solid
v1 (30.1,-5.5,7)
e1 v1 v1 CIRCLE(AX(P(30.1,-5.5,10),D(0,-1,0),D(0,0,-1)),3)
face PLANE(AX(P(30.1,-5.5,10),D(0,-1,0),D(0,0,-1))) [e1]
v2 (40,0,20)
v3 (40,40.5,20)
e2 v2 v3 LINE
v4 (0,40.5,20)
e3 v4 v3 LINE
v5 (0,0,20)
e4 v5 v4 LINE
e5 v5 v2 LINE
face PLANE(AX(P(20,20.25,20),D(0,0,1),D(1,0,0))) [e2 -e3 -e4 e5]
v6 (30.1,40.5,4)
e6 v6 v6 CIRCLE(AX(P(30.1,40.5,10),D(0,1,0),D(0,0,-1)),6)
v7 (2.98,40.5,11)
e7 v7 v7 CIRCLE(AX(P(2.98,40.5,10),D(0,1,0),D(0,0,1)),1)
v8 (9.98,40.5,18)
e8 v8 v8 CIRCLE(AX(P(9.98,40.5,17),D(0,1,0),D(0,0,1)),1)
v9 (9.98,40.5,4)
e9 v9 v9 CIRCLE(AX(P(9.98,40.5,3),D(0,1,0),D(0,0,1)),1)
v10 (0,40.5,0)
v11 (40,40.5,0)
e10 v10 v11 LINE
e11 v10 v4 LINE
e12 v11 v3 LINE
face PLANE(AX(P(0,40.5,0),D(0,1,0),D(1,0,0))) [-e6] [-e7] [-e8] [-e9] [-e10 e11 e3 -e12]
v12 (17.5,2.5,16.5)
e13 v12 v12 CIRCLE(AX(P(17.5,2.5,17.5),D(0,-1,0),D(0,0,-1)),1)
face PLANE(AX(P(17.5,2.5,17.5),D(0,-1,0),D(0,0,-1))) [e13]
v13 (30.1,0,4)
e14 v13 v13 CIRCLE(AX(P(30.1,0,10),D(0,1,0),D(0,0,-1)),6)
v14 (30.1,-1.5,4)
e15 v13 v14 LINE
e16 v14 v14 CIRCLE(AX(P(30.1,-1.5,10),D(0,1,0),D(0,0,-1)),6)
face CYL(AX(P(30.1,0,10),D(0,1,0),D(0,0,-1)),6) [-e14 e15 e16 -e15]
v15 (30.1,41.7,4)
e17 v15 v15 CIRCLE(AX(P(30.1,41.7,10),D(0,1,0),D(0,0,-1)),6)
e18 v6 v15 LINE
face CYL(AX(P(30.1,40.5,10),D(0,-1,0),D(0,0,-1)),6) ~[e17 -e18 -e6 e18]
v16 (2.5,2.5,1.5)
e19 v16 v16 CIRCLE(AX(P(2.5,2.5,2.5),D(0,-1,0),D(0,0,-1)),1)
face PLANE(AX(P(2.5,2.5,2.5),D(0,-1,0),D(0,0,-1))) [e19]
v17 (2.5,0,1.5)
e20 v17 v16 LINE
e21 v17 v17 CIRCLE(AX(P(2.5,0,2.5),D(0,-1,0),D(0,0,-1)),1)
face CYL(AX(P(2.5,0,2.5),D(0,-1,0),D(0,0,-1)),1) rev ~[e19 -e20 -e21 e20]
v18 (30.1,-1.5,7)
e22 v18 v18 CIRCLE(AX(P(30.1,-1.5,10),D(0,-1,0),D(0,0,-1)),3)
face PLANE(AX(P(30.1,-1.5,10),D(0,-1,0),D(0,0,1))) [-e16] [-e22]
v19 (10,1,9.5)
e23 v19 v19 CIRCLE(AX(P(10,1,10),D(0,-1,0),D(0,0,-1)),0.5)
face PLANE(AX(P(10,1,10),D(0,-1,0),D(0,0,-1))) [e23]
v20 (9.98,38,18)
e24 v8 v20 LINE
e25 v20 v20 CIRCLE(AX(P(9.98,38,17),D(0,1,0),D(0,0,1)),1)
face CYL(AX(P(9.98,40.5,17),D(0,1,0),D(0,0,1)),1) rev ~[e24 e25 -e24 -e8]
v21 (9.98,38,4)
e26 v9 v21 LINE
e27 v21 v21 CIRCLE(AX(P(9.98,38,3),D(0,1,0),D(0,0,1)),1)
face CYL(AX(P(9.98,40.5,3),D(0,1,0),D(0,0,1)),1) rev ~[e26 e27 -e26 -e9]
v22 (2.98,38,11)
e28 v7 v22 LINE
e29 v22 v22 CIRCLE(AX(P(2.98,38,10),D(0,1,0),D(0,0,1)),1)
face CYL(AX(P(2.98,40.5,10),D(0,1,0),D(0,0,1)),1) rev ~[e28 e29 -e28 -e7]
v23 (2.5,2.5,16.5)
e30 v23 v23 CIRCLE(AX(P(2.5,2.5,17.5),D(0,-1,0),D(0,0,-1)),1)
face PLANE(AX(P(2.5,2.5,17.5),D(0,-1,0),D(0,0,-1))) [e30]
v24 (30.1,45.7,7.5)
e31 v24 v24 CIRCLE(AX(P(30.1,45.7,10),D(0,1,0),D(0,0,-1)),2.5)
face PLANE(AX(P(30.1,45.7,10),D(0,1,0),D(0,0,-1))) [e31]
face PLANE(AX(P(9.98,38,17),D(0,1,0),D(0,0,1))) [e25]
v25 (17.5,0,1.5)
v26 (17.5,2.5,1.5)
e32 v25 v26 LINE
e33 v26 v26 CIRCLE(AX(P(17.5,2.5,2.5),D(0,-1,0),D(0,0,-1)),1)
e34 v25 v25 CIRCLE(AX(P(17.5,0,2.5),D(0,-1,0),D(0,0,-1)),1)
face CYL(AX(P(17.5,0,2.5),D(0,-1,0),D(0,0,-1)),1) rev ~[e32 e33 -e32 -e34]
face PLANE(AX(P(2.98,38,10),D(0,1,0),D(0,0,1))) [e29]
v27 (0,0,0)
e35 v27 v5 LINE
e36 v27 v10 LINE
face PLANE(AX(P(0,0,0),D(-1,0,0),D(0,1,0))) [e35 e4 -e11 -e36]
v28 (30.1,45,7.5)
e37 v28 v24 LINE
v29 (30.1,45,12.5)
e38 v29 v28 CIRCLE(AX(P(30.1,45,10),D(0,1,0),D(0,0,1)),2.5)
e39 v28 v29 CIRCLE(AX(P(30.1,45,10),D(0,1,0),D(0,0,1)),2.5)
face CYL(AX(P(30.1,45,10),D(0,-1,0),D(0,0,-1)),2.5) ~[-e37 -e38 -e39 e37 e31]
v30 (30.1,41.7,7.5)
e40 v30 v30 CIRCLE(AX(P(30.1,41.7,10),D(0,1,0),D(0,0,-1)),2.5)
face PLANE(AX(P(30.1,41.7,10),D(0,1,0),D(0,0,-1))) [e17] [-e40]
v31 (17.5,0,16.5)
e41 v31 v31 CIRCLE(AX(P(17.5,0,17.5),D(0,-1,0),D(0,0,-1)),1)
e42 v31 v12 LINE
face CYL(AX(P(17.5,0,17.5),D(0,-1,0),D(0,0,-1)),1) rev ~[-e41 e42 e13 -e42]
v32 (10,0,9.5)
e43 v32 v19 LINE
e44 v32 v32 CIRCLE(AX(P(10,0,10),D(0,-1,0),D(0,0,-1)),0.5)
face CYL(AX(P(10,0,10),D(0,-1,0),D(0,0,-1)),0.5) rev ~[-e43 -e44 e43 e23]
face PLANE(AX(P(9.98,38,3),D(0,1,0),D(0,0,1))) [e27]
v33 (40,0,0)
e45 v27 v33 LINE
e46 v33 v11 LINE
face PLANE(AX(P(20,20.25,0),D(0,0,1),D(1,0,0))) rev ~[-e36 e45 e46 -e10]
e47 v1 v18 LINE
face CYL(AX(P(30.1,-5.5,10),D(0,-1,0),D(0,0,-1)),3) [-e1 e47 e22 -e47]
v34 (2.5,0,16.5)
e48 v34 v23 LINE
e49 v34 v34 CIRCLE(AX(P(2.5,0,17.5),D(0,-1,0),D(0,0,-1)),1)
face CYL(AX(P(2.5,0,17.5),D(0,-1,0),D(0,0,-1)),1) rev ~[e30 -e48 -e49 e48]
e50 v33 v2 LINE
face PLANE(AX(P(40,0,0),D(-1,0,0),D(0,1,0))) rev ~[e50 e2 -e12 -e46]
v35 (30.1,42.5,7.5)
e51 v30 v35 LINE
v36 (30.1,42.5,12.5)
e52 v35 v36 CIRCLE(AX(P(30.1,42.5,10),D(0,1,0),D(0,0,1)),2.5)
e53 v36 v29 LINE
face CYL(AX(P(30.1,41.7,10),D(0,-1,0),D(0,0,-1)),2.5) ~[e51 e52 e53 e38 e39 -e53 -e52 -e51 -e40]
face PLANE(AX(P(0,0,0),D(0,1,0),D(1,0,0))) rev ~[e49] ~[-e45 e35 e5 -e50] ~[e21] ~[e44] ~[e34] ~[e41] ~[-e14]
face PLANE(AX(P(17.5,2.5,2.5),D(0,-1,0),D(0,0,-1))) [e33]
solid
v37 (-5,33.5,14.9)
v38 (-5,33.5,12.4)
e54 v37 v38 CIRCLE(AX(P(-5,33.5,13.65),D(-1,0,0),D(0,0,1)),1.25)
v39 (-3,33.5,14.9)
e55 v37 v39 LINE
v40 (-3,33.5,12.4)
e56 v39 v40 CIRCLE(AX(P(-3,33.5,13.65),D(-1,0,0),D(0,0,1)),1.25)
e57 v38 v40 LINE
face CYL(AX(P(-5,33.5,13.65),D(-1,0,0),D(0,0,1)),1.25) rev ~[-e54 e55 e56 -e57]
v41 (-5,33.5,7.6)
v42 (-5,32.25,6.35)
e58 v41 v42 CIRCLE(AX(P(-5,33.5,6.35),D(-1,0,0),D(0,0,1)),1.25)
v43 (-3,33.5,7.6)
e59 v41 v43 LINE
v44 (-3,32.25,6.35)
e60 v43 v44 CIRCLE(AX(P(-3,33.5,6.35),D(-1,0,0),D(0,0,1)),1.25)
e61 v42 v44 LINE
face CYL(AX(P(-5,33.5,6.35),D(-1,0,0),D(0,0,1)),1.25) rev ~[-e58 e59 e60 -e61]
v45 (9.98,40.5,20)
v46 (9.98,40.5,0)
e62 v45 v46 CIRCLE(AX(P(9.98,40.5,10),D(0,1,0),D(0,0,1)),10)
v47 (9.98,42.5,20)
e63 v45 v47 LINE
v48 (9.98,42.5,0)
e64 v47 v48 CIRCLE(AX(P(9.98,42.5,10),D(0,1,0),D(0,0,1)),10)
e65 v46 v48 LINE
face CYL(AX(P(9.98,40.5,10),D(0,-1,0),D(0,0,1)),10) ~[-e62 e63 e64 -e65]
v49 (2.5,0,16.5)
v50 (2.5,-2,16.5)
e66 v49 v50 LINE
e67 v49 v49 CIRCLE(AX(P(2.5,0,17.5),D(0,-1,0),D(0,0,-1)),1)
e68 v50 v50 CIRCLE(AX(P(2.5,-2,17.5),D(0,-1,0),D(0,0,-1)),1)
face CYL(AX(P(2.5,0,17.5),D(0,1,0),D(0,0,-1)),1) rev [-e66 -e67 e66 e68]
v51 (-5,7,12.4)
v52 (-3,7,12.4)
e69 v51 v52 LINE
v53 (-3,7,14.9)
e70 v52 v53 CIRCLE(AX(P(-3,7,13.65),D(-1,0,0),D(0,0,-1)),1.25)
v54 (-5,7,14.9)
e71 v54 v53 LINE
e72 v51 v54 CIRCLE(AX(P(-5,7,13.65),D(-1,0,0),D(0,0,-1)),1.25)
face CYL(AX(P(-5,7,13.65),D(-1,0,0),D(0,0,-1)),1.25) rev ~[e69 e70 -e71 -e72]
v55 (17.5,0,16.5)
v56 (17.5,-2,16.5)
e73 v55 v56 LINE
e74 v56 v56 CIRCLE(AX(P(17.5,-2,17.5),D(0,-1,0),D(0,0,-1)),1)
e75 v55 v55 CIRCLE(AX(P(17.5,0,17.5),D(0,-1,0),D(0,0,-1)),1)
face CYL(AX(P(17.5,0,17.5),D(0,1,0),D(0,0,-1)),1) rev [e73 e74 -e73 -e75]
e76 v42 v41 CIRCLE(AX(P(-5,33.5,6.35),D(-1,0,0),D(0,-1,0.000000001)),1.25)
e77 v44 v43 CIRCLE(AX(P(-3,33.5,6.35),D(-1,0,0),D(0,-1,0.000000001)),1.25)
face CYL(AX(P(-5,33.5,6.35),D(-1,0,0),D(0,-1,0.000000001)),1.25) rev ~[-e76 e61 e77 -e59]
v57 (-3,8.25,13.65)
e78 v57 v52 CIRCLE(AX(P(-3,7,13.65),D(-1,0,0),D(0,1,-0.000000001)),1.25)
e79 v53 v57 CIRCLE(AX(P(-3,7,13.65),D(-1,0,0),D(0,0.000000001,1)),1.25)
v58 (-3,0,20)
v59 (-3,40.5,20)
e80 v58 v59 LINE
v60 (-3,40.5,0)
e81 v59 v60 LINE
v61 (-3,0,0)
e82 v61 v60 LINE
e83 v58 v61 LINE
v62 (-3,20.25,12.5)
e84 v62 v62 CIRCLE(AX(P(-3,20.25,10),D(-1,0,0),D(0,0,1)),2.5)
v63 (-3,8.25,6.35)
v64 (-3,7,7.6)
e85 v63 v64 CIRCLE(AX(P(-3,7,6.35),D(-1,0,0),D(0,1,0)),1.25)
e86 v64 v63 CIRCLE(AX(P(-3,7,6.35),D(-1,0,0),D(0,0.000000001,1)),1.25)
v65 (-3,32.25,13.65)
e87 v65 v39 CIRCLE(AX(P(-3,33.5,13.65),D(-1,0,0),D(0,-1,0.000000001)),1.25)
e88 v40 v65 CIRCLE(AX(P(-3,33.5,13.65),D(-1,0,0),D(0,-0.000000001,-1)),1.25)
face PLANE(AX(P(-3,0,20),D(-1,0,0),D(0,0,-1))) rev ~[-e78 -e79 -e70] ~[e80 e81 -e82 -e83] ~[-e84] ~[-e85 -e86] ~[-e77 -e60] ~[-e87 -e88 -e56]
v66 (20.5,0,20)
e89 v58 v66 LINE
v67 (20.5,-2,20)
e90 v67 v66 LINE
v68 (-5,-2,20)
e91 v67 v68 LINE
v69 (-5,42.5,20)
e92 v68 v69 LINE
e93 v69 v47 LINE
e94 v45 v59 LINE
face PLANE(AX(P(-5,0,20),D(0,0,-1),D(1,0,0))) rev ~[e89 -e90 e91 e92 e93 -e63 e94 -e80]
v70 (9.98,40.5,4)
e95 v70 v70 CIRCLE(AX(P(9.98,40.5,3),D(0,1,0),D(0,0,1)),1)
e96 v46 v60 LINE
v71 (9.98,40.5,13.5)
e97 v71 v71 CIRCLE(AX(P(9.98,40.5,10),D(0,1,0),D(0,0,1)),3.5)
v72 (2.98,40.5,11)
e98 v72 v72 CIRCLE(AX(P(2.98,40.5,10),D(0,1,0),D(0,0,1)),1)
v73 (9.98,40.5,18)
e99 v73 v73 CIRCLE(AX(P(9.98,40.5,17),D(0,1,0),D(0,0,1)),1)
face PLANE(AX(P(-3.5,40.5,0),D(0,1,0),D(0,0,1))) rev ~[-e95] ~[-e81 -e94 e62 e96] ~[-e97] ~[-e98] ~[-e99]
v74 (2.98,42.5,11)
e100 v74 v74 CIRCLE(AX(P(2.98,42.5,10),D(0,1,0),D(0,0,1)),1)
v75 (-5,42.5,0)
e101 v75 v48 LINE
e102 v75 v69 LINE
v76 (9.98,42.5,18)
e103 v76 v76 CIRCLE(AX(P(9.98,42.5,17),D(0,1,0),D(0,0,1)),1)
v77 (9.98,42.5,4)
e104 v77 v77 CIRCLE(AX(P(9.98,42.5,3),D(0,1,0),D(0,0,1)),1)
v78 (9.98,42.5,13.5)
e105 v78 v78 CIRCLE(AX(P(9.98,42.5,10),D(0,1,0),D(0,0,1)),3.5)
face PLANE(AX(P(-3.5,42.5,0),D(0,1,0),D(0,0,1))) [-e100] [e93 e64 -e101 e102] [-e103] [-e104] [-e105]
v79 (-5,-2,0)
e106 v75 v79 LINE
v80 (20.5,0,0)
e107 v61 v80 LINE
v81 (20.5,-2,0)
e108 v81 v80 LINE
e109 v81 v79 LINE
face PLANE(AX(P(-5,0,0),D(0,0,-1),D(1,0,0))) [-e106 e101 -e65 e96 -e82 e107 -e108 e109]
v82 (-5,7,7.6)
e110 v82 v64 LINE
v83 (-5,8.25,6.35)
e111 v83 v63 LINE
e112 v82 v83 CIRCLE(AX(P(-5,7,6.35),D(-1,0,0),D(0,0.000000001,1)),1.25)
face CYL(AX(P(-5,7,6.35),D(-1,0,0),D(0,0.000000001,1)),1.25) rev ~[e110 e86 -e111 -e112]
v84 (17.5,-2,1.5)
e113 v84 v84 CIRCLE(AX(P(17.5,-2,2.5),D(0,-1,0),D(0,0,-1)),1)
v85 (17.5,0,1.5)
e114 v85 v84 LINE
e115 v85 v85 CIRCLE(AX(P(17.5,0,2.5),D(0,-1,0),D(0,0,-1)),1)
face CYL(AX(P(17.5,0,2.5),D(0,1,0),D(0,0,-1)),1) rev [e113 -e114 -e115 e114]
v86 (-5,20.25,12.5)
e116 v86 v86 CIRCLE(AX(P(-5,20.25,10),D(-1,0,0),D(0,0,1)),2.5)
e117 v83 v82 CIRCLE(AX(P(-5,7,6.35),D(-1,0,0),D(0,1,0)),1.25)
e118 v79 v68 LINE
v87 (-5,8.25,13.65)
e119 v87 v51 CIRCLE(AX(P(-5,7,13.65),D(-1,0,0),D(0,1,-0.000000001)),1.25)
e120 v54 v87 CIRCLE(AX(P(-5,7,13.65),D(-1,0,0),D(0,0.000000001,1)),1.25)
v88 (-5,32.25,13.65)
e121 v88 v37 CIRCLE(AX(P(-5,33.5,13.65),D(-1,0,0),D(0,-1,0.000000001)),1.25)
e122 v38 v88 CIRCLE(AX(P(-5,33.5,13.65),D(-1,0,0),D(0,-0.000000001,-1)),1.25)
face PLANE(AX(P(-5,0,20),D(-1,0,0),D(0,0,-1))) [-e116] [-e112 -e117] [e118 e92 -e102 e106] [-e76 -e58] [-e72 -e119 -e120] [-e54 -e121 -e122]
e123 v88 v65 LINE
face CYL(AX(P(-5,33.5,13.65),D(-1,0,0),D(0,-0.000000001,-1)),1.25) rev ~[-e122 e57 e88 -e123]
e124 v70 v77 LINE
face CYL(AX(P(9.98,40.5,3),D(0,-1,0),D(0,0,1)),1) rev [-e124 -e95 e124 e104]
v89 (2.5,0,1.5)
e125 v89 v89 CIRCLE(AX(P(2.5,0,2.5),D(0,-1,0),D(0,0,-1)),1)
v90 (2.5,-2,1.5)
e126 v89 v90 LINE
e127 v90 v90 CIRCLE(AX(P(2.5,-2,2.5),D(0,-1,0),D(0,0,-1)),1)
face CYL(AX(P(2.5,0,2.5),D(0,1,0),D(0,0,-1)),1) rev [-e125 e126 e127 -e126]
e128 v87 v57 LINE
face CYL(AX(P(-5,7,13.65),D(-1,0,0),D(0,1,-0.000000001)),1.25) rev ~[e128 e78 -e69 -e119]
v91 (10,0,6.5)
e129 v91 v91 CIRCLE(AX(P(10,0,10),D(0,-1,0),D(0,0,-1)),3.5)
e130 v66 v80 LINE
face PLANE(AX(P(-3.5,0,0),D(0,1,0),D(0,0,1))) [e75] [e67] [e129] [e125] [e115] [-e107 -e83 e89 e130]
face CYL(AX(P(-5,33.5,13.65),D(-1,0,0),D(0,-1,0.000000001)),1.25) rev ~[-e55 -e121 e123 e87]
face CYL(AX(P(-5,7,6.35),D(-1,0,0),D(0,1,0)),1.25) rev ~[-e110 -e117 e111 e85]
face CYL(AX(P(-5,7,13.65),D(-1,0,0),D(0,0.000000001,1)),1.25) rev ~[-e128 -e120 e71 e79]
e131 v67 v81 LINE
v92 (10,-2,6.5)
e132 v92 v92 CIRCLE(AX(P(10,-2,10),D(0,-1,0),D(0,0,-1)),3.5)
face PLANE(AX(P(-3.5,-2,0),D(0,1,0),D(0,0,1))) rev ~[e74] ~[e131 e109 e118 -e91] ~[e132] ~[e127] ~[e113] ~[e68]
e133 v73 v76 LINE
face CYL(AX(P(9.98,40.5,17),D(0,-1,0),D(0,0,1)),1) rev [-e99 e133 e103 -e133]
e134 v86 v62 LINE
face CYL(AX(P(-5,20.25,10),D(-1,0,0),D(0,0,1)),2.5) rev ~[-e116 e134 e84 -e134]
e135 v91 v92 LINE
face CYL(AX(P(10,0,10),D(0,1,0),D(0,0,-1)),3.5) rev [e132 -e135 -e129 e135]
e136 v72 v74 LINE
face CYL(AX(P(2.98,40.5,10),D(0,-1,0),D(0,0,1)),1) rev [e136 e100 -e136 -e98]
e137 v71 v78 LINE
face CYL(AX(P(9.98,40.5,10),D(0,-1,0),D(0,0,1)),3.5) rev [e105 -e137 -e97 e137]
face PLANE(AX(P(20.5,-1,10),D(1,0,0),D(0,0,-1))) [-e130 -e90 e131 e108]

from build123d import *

# Parameters (mm, degrees)
SKETCH_1_W          = 40
SKETCH_1_H          = 40.5
EXTRUDE_1_DEPTH     = 20
SKETCH_2_R          = 6
EXTRUDE_2_DEPTH     = 2
SKETCH_4_R          = 2.5
EXTRUDE_3_DEPTH     = 2.5
EXTRUDE_START       = 2.5
SKETCH_5_R          = 2.5
EXTRUDE_4_DEPTH     = 2.5
SKETCH_6_R          = 1
CUT_EXTRUDE_1_DEPTH = 2.5
SKETCH_7_R          = 1
CUT_EXTRUDE_2_DEPTH = 2.5
SKETCH_8_R          = 6
SKETCH_8_R_2        = 2.5
CUT_EXTRUDE_3_DEPTH = 0.5
EXTRUDE_START_2     = 1
SKETCH_9_R          = 2.5
EXTRUDE_5_DEPTH     = 1
CUT_EXTRUDE_START   = -0.8
SKETCH_10_R         = 6
SKETCH_10_R_2       = 2.5
CUT_EXTRUDE_4_DEPTH = 0.8
SKETCH_11_R         = 2.5
EXTRUDE_6_DEPTH     = 0.7
SKETCH_13_R         = 0.5
CUT_EXTRUDE_5_DEPTH = 1
SKETCH_14_R         = 3
EXTRUDE_7_DEPTH     = 4
SKETCH_15_W         = 27
SKETCH_15_H         = 20
SKETCH_15_R         = 1
SKETCH_15_R_2       = 3.5
EXTRUDE_8_DEPTH     = 2
SKETCH_16_R         = 3.5
SKETCH_16_R_2       = 1
EXTRUDE_9_DEPTH     = 2
SKETCH_18_W         = 20
SKETCH_18_H         = 2
CUT_EXTRUDE_6_DEPTH = 3
SKETCH_19_W         = 20
SKETCH_19_H         = 2
EXTRUDE_10_DEPTH    = 1.5
SKETCH_20_W         = 20
SKETCH_20_H         = 2
EXTRUDE_11_DEPTH    = 1.5
SKETCH_21_W         = 2
SKETCH_21_H         = 20
EXTRUDE_12_DEPTH    = 40.5
CUT_EXTRUDE_7_DEPTH = 2
SKETCH_23_R         = 2.5
CUT_EXTRUDE_8_DEPTH = 2


with BuildPart() as part:
    # 草图1 → 凸台-拉伸1 (new body)
    with BuildSketch(Plane.XY):
        with Locations((20, 20.25)):
            Rectangle(SKETCH_1_W, SKETCH_1_H)
    extrude(amount=EXTRUDE_1_DEPTH)

    # 草图2 → 凸台-拉伸2 (add)
    with BuildSketch(Plane(origin=(0, 40.5, 0), x_dir=(1, 0, 0), z_dir=(0, 1, 0))):
        with Locations(Location((30.1, -10, 0), (0, 0, 90))):
            Circle(SKETCH_2_R)
    extrude_2 = extrude(amount=EXTRUDE_2_DEPTH)

    # 镜向1: 凸台-拉伸2 across plane
    add(extrude_2.mirror(Plane.ZX.offset(20.25)))

    # 草图4 → 凸台-拉伸3 (add)
    with BuildSketch(Plane(origin=(0, 42.5, 0), x_dir=(1, 0, 0), z_dir=(0, 1, 0))):
        with Locations(Location((30.1, -10, 0), (0, 0, 270))):
            Circle(SKETCH_4_R)
    extrude(amount=EXTRUDE_3_DEPTH)

    # 草图5 → 凸台-拉伸4 (add)
    with BuildSketch(Plane.XZ.offset(2).offset(EXTRUDE_START)):
        with Locations(Location((30.1, 10, 0), (0, 0, 90))):
            Circle(SKETCH_5_R)
    extrude(amount=-EXTRUDE_4_DEPTH)

    # 草图6 → 切除-拉伸1 (cut)
    with BuildSketch(Plane(origin=(0, 40.5, 0), x_dir=(1, 0, 0), z_dir=(0, 1, 0))):
        with Locations(Location((9.98, -3, 0), (0, 0, 270))):
            Circle(SKETCH_6_R)
        with Locations(Location((9.98, -17, 0), (0, 0, 270))):
            Circle(SKETCH_6_R)
        with Locations(Location((2.98, -10, 0), (0, 0, 270))):
            Circle(SKETCH_6_R)
    extrude(amount=-CUT_EXTRUDE_1_DEPTH, mode=Mode.SUBTRACT)

    # 草图7 → 切除-拉伸2 (cut)
    with BuildSketch(Plane.XZ):
        with Locations(Location((2.5, 17.5, 0), (0, 0, 270))):
            Circle(SKETCH_7_R)
        with Locations(Location((17.5, 17.5, 0), (0, 0, 270))):
            Circle(SKETCH_7_R)
        with Locations(Location((17.5, 2.5, 0), (0, 0, 270))):
            Circle(SKETCH_7_R)
        with Locations(Location((2.5, 2.5, 0), (0, 0, 270))):
            Circle(SKETCH_7_R)
    extrude(amount=-CUT_EXTRUDE_2_DEPTH, mode=Mode.SUBTRACT)

    # 草图8 → 切除-拉伸3 (cut)
    with BuildSketch(Plane.XZ.offset(2)):
        with Locations(Location((30.1, 10, 0), (0, 0, 90))):
            Circle(SKETCH_8_R)
        with Locations(Location((30.1, 10, 0), (0, 0, 90))):
            Circle(SKETCH_8_R_2, mode=Mode.SUBTRACT)
    extrude(amount=-CUT_EXTRUDE_3_DEPTH, mode=Mode.SUBTRACT)

    # 草图9 → 凸台-拉伸5 (add)
    with BuildSketch(Plane.XZ.offset(4.5).offset(EXTRUDE_START_2)):
        with Locations(Location((30.1, 10, 0), (0, 0, 90))):
            Circle(SKETCH_9_R)
    extrude(amount=-EXTRUDE_5_DEPTH)

    # 草图10 → 切除-拉伸4 (cut)
    with BuildSketch(Plane(origin=(0, 42.5, 0), x_dir=(1, 0, 0), z_dir=(0, 1, 0)).offset(CUT_EXTRUDE_START)):
        with Locations(Location((30.1, -10, 0), (0, 0, 90))):
            Circle(SKETCH_10_R)
        with Locations(Location((30.1, -10, 0), (0, 0, 90))):
            Circle(SKETCH_10_R_2, mode=Mode.SUBTRACT)
    extrude(amount=CUT_EXTRUDE_4_DEPTH, mode=Mode.SUBTRACT)

    # 草图11 → 凸台-拉伸6 (add)
    with BuildSketch(Plane(origin=(0, 45, 0), x_dir=(1, 0, 0), z_dir=(0, 1, 0))):
        with Locations(Location((30.1, -10, 0), (0, 0, 90))):
            Circle(SKETCH_11_R)
    extrude(amount=EXTRUDE_6_DEPTH)

    # 草图13 → 切除-拉伸5 (cut)
    with BuildSketch(Plane.XZ):
        with Locations(Location((10, 10, 0), (0, 0, 270))):
            Circle(SKETCH_13_R)
    extrude(amount=-CUT_EXTRUDE_5_DEPTH, mode=Mode.SUBTRACT)

    # 草图14 → 凸台-拉伸7 (add)
    with BuildSketch(Plane.XZ.offset(5.5)):
        with Locations(Location((30.1, 10, 0), (0, 0, 270))):
            Circle(SKETCH_14_R)
    extrude(amount=-EXTRUDE_7_DEPTH)


with BuildPart() as body_2:
    # 草图15 → 凸台-拉伸8 (new body)
    with BuildSketch(Plane.XZ):
        with Locations((10, 10)):
            Rectangle(SKETCH_15_W, SKETCH_15_H)
        with Locations(Location((2.5, 2.5, 0), (0, 0, 270))):
            Circle(SKETCH_15_R, mode=Mode.SUBTRACT)
        with Locations(Location((17.5, 2.5, 0), (0, 0, 270))):
            Circle(SKETCH_15_R, mode=Mode.SUBTRACT)
        with Locations(Location((17.5, 17.5, 0), (0, 0, 270))):
            Circle(SKETCH_15_R, mode=Mode.SUBTRACT)
        with Locations(Location((2.5, 17.5, 0), (0, 0, 270))):
            Circle(SKETCH_15_R, mode=Mode.SUBTRACT)
        with Locations(Location((10, 10, 0), (0, 0, 270))):
            Circle(SKETCH_15_R_2, mode=Mode.SUBTRACT)
    extrude(amount=EXTRUDE_8_DEPTH)

    # 草图18 → 切除-拉伸6 (cut)
    with BuildSketch(Plane(origin=(23.5, 0, 0), x_dir=(0, 0, -1), z_dir=(1, 0, 0))):
        with Locations((-10, -1)):
            Rectangle(SKETCH_18_W, SKETCH_18_H)
    extrude(amount=-CUT_EXTRUDE_6_DEPTH, mode=Mode.SUBTRACT)

    # 草图19 → 凸台-拉伸10 (add)
    with BuildSketch(Plane.ZY.offset(3.5)):
        with Locations((10, -1)):
            Rectangle(SKETCH_19_W, SKETCH_19_H)
    extrude(amount=EXTRUDE_10_DEPTH)



with BuildPart() as body_3:
    # 草图16 → 凸台-拉伸9 (new body)
    with BuildSketch(Plane(origin=(0, 40.5, 0), x_dir=(1, 0, 0), z_dir=(0, 1, 0))):
        with BuildLine():
            Line((-3.5, 0), (-3.5, -20))
            Line((-3.5, -20), (9.98, -20))
            ThreePointArc((9.98, -20), (19.98, -10), (9.98, 0))
            Line((9.98, 0), (-3.5, 0))
        make_face()
        with Locations(Location((9.98, -10, 0), (0, 0, 270))):
            Circle(SKETCH_16_R, mode=Mode.SUBTRACT)
        with Locations(Location((9.98, -17, 0), (0, 0, 270))):
            Circle(SKETCH_16_R_2, mode=Mode.SUBTRACT)
        with Locations(Location((9.98, -3, 0), (0, 0, 270))):
            Circle(SKETCH_16_R_2, mode=Mode.SUBTRACT)
        with Locations(Location((2.98, -10, 0), (0, 0, 270))):
            Circle(SKETCH_16_R_2, mode=Mode.SUBTRACT)
    extrude(amount=EXTRUDE_9_DEPTH)

    # 草图20 → 凸台-拉伸11 (add)
    with BuildSketch(Plane.ZY.offset(3.5)):
        with Locations((10, 41.5)):
            Rectangle(SKETCH_20_W, SKETCH_20_H)
    extrude(amount=EXTRUDE_11_DEPTH)


with BuildPart() as body_2_1:
    add(body_2.part)

    add(body_3.part)  # 凸台-拉伸12 merges body 3
    # 草图21 → 凸台-拉伸12 (add)
    with BuildSketch(Plane(origin=(0, 0, 0), x_dir=(1, 0, 0), z_dir=(0, 1, 0))):
        with Locations((-4, -10)):
            Rectangle(SKETCH_21_W, SKETCH_21_H)
    extrude(amount=EXTRUDE_12_DEPTH)

    # 草图22 → 切除-拉伸7 (cut)
    with BuildSketch(Plane.ZY.offset(5)):
        with BuildLine():
            ThreePointArc((7.6, 33.5), (5.466116524, 34.383883476), (6.35, 32.25))
            Line((6.35, 32.25), (6.35, 33.5))
            Line((6.35, 33.5), (7.6, 33.5))
        make_face()
        with BuildLine():
            Line((6.35, 33.5), (6.35, 32.25))
            ThreePointArc((6.35, 32.25), (7.233883476, 32.616116524), (7.6, 33.5))
            Line((7.6, 33.5), (6.35, 33.5))
        make_face()
        with BuildLine():
            ThreePointArc((12.4, 33.5), (12.766116524, 32.616116524), (13.65, 32.25))
            Line((13.65, 32.25), (13.65, 33.5))
            Line((13.65, 33.5), (12.4, 33.5))
        make_face()
        with BuildLine():
            Line((13.65, 33.5), (13.65, 32.25))
            ThreePointArc((13.65, 32.25), (14.533883476, 32.616116524), (14.9, 33.5))
            ThreePointArc((14.9, 33.5), (13.65, 34.75), (12.4, 33.5))
            Line((12.4, 33.5), (13.65, 33.5))
        make_face()
        with BuildLine():
            ThreePointArc((13.65, 8.25), (12.766116524, 7.883883476), (12.4, 7))
            Line((12.4, 7), (13.65, 7))
            Line((13.65, 7), (13.65, 8.25))
        make_face()
        with BuildLine():
            Line((13.65, 7), (12.4, 7))
            ThreePointArc((12.4, 7), (13.65, 5.75), (14.9, 7))
            ThreePointArc((14.9, 7), (14.533883476, 7.883883476), (13.65, 8.25))
            Line((13.65, 8.25), (13.65, 7))
        make_face()
        with BuildLine():
            Line((6.35, 8.25), (6.35, 7))
            Line((6.35, 7), (7.6, 7))
            ThreePointArc((7.6, 7), (7.233883476, 7.883883476), (6.35, 8.25))
        make_face()
        with BuildLine():
            Line((7.6, 7), (6.35, 7))
            Line((6.35, 7), (6.35, 8.25))
            ThreePointArc((6.35, 8.25), (5.466116524, 6.116116524), (7.6, 7))
        make_face()
    extrude(amount=-CUT_EXTRUDE_7_DEPTH, mode=Mode.SUBTRACT)

    # 草图23 → 切除-拉伸8 (cut)
    with BuildSketch(Plane.ZY.offset(5)):
        with Locations((10, 20.25)):
            Circle(SKETCH_23_R)
    extrude(amount=-CUT_EXTRUDE_8_DEPTH, mode=Mode.SUBTRACT)


solid = Compound([part.part, body_2_1.part])
